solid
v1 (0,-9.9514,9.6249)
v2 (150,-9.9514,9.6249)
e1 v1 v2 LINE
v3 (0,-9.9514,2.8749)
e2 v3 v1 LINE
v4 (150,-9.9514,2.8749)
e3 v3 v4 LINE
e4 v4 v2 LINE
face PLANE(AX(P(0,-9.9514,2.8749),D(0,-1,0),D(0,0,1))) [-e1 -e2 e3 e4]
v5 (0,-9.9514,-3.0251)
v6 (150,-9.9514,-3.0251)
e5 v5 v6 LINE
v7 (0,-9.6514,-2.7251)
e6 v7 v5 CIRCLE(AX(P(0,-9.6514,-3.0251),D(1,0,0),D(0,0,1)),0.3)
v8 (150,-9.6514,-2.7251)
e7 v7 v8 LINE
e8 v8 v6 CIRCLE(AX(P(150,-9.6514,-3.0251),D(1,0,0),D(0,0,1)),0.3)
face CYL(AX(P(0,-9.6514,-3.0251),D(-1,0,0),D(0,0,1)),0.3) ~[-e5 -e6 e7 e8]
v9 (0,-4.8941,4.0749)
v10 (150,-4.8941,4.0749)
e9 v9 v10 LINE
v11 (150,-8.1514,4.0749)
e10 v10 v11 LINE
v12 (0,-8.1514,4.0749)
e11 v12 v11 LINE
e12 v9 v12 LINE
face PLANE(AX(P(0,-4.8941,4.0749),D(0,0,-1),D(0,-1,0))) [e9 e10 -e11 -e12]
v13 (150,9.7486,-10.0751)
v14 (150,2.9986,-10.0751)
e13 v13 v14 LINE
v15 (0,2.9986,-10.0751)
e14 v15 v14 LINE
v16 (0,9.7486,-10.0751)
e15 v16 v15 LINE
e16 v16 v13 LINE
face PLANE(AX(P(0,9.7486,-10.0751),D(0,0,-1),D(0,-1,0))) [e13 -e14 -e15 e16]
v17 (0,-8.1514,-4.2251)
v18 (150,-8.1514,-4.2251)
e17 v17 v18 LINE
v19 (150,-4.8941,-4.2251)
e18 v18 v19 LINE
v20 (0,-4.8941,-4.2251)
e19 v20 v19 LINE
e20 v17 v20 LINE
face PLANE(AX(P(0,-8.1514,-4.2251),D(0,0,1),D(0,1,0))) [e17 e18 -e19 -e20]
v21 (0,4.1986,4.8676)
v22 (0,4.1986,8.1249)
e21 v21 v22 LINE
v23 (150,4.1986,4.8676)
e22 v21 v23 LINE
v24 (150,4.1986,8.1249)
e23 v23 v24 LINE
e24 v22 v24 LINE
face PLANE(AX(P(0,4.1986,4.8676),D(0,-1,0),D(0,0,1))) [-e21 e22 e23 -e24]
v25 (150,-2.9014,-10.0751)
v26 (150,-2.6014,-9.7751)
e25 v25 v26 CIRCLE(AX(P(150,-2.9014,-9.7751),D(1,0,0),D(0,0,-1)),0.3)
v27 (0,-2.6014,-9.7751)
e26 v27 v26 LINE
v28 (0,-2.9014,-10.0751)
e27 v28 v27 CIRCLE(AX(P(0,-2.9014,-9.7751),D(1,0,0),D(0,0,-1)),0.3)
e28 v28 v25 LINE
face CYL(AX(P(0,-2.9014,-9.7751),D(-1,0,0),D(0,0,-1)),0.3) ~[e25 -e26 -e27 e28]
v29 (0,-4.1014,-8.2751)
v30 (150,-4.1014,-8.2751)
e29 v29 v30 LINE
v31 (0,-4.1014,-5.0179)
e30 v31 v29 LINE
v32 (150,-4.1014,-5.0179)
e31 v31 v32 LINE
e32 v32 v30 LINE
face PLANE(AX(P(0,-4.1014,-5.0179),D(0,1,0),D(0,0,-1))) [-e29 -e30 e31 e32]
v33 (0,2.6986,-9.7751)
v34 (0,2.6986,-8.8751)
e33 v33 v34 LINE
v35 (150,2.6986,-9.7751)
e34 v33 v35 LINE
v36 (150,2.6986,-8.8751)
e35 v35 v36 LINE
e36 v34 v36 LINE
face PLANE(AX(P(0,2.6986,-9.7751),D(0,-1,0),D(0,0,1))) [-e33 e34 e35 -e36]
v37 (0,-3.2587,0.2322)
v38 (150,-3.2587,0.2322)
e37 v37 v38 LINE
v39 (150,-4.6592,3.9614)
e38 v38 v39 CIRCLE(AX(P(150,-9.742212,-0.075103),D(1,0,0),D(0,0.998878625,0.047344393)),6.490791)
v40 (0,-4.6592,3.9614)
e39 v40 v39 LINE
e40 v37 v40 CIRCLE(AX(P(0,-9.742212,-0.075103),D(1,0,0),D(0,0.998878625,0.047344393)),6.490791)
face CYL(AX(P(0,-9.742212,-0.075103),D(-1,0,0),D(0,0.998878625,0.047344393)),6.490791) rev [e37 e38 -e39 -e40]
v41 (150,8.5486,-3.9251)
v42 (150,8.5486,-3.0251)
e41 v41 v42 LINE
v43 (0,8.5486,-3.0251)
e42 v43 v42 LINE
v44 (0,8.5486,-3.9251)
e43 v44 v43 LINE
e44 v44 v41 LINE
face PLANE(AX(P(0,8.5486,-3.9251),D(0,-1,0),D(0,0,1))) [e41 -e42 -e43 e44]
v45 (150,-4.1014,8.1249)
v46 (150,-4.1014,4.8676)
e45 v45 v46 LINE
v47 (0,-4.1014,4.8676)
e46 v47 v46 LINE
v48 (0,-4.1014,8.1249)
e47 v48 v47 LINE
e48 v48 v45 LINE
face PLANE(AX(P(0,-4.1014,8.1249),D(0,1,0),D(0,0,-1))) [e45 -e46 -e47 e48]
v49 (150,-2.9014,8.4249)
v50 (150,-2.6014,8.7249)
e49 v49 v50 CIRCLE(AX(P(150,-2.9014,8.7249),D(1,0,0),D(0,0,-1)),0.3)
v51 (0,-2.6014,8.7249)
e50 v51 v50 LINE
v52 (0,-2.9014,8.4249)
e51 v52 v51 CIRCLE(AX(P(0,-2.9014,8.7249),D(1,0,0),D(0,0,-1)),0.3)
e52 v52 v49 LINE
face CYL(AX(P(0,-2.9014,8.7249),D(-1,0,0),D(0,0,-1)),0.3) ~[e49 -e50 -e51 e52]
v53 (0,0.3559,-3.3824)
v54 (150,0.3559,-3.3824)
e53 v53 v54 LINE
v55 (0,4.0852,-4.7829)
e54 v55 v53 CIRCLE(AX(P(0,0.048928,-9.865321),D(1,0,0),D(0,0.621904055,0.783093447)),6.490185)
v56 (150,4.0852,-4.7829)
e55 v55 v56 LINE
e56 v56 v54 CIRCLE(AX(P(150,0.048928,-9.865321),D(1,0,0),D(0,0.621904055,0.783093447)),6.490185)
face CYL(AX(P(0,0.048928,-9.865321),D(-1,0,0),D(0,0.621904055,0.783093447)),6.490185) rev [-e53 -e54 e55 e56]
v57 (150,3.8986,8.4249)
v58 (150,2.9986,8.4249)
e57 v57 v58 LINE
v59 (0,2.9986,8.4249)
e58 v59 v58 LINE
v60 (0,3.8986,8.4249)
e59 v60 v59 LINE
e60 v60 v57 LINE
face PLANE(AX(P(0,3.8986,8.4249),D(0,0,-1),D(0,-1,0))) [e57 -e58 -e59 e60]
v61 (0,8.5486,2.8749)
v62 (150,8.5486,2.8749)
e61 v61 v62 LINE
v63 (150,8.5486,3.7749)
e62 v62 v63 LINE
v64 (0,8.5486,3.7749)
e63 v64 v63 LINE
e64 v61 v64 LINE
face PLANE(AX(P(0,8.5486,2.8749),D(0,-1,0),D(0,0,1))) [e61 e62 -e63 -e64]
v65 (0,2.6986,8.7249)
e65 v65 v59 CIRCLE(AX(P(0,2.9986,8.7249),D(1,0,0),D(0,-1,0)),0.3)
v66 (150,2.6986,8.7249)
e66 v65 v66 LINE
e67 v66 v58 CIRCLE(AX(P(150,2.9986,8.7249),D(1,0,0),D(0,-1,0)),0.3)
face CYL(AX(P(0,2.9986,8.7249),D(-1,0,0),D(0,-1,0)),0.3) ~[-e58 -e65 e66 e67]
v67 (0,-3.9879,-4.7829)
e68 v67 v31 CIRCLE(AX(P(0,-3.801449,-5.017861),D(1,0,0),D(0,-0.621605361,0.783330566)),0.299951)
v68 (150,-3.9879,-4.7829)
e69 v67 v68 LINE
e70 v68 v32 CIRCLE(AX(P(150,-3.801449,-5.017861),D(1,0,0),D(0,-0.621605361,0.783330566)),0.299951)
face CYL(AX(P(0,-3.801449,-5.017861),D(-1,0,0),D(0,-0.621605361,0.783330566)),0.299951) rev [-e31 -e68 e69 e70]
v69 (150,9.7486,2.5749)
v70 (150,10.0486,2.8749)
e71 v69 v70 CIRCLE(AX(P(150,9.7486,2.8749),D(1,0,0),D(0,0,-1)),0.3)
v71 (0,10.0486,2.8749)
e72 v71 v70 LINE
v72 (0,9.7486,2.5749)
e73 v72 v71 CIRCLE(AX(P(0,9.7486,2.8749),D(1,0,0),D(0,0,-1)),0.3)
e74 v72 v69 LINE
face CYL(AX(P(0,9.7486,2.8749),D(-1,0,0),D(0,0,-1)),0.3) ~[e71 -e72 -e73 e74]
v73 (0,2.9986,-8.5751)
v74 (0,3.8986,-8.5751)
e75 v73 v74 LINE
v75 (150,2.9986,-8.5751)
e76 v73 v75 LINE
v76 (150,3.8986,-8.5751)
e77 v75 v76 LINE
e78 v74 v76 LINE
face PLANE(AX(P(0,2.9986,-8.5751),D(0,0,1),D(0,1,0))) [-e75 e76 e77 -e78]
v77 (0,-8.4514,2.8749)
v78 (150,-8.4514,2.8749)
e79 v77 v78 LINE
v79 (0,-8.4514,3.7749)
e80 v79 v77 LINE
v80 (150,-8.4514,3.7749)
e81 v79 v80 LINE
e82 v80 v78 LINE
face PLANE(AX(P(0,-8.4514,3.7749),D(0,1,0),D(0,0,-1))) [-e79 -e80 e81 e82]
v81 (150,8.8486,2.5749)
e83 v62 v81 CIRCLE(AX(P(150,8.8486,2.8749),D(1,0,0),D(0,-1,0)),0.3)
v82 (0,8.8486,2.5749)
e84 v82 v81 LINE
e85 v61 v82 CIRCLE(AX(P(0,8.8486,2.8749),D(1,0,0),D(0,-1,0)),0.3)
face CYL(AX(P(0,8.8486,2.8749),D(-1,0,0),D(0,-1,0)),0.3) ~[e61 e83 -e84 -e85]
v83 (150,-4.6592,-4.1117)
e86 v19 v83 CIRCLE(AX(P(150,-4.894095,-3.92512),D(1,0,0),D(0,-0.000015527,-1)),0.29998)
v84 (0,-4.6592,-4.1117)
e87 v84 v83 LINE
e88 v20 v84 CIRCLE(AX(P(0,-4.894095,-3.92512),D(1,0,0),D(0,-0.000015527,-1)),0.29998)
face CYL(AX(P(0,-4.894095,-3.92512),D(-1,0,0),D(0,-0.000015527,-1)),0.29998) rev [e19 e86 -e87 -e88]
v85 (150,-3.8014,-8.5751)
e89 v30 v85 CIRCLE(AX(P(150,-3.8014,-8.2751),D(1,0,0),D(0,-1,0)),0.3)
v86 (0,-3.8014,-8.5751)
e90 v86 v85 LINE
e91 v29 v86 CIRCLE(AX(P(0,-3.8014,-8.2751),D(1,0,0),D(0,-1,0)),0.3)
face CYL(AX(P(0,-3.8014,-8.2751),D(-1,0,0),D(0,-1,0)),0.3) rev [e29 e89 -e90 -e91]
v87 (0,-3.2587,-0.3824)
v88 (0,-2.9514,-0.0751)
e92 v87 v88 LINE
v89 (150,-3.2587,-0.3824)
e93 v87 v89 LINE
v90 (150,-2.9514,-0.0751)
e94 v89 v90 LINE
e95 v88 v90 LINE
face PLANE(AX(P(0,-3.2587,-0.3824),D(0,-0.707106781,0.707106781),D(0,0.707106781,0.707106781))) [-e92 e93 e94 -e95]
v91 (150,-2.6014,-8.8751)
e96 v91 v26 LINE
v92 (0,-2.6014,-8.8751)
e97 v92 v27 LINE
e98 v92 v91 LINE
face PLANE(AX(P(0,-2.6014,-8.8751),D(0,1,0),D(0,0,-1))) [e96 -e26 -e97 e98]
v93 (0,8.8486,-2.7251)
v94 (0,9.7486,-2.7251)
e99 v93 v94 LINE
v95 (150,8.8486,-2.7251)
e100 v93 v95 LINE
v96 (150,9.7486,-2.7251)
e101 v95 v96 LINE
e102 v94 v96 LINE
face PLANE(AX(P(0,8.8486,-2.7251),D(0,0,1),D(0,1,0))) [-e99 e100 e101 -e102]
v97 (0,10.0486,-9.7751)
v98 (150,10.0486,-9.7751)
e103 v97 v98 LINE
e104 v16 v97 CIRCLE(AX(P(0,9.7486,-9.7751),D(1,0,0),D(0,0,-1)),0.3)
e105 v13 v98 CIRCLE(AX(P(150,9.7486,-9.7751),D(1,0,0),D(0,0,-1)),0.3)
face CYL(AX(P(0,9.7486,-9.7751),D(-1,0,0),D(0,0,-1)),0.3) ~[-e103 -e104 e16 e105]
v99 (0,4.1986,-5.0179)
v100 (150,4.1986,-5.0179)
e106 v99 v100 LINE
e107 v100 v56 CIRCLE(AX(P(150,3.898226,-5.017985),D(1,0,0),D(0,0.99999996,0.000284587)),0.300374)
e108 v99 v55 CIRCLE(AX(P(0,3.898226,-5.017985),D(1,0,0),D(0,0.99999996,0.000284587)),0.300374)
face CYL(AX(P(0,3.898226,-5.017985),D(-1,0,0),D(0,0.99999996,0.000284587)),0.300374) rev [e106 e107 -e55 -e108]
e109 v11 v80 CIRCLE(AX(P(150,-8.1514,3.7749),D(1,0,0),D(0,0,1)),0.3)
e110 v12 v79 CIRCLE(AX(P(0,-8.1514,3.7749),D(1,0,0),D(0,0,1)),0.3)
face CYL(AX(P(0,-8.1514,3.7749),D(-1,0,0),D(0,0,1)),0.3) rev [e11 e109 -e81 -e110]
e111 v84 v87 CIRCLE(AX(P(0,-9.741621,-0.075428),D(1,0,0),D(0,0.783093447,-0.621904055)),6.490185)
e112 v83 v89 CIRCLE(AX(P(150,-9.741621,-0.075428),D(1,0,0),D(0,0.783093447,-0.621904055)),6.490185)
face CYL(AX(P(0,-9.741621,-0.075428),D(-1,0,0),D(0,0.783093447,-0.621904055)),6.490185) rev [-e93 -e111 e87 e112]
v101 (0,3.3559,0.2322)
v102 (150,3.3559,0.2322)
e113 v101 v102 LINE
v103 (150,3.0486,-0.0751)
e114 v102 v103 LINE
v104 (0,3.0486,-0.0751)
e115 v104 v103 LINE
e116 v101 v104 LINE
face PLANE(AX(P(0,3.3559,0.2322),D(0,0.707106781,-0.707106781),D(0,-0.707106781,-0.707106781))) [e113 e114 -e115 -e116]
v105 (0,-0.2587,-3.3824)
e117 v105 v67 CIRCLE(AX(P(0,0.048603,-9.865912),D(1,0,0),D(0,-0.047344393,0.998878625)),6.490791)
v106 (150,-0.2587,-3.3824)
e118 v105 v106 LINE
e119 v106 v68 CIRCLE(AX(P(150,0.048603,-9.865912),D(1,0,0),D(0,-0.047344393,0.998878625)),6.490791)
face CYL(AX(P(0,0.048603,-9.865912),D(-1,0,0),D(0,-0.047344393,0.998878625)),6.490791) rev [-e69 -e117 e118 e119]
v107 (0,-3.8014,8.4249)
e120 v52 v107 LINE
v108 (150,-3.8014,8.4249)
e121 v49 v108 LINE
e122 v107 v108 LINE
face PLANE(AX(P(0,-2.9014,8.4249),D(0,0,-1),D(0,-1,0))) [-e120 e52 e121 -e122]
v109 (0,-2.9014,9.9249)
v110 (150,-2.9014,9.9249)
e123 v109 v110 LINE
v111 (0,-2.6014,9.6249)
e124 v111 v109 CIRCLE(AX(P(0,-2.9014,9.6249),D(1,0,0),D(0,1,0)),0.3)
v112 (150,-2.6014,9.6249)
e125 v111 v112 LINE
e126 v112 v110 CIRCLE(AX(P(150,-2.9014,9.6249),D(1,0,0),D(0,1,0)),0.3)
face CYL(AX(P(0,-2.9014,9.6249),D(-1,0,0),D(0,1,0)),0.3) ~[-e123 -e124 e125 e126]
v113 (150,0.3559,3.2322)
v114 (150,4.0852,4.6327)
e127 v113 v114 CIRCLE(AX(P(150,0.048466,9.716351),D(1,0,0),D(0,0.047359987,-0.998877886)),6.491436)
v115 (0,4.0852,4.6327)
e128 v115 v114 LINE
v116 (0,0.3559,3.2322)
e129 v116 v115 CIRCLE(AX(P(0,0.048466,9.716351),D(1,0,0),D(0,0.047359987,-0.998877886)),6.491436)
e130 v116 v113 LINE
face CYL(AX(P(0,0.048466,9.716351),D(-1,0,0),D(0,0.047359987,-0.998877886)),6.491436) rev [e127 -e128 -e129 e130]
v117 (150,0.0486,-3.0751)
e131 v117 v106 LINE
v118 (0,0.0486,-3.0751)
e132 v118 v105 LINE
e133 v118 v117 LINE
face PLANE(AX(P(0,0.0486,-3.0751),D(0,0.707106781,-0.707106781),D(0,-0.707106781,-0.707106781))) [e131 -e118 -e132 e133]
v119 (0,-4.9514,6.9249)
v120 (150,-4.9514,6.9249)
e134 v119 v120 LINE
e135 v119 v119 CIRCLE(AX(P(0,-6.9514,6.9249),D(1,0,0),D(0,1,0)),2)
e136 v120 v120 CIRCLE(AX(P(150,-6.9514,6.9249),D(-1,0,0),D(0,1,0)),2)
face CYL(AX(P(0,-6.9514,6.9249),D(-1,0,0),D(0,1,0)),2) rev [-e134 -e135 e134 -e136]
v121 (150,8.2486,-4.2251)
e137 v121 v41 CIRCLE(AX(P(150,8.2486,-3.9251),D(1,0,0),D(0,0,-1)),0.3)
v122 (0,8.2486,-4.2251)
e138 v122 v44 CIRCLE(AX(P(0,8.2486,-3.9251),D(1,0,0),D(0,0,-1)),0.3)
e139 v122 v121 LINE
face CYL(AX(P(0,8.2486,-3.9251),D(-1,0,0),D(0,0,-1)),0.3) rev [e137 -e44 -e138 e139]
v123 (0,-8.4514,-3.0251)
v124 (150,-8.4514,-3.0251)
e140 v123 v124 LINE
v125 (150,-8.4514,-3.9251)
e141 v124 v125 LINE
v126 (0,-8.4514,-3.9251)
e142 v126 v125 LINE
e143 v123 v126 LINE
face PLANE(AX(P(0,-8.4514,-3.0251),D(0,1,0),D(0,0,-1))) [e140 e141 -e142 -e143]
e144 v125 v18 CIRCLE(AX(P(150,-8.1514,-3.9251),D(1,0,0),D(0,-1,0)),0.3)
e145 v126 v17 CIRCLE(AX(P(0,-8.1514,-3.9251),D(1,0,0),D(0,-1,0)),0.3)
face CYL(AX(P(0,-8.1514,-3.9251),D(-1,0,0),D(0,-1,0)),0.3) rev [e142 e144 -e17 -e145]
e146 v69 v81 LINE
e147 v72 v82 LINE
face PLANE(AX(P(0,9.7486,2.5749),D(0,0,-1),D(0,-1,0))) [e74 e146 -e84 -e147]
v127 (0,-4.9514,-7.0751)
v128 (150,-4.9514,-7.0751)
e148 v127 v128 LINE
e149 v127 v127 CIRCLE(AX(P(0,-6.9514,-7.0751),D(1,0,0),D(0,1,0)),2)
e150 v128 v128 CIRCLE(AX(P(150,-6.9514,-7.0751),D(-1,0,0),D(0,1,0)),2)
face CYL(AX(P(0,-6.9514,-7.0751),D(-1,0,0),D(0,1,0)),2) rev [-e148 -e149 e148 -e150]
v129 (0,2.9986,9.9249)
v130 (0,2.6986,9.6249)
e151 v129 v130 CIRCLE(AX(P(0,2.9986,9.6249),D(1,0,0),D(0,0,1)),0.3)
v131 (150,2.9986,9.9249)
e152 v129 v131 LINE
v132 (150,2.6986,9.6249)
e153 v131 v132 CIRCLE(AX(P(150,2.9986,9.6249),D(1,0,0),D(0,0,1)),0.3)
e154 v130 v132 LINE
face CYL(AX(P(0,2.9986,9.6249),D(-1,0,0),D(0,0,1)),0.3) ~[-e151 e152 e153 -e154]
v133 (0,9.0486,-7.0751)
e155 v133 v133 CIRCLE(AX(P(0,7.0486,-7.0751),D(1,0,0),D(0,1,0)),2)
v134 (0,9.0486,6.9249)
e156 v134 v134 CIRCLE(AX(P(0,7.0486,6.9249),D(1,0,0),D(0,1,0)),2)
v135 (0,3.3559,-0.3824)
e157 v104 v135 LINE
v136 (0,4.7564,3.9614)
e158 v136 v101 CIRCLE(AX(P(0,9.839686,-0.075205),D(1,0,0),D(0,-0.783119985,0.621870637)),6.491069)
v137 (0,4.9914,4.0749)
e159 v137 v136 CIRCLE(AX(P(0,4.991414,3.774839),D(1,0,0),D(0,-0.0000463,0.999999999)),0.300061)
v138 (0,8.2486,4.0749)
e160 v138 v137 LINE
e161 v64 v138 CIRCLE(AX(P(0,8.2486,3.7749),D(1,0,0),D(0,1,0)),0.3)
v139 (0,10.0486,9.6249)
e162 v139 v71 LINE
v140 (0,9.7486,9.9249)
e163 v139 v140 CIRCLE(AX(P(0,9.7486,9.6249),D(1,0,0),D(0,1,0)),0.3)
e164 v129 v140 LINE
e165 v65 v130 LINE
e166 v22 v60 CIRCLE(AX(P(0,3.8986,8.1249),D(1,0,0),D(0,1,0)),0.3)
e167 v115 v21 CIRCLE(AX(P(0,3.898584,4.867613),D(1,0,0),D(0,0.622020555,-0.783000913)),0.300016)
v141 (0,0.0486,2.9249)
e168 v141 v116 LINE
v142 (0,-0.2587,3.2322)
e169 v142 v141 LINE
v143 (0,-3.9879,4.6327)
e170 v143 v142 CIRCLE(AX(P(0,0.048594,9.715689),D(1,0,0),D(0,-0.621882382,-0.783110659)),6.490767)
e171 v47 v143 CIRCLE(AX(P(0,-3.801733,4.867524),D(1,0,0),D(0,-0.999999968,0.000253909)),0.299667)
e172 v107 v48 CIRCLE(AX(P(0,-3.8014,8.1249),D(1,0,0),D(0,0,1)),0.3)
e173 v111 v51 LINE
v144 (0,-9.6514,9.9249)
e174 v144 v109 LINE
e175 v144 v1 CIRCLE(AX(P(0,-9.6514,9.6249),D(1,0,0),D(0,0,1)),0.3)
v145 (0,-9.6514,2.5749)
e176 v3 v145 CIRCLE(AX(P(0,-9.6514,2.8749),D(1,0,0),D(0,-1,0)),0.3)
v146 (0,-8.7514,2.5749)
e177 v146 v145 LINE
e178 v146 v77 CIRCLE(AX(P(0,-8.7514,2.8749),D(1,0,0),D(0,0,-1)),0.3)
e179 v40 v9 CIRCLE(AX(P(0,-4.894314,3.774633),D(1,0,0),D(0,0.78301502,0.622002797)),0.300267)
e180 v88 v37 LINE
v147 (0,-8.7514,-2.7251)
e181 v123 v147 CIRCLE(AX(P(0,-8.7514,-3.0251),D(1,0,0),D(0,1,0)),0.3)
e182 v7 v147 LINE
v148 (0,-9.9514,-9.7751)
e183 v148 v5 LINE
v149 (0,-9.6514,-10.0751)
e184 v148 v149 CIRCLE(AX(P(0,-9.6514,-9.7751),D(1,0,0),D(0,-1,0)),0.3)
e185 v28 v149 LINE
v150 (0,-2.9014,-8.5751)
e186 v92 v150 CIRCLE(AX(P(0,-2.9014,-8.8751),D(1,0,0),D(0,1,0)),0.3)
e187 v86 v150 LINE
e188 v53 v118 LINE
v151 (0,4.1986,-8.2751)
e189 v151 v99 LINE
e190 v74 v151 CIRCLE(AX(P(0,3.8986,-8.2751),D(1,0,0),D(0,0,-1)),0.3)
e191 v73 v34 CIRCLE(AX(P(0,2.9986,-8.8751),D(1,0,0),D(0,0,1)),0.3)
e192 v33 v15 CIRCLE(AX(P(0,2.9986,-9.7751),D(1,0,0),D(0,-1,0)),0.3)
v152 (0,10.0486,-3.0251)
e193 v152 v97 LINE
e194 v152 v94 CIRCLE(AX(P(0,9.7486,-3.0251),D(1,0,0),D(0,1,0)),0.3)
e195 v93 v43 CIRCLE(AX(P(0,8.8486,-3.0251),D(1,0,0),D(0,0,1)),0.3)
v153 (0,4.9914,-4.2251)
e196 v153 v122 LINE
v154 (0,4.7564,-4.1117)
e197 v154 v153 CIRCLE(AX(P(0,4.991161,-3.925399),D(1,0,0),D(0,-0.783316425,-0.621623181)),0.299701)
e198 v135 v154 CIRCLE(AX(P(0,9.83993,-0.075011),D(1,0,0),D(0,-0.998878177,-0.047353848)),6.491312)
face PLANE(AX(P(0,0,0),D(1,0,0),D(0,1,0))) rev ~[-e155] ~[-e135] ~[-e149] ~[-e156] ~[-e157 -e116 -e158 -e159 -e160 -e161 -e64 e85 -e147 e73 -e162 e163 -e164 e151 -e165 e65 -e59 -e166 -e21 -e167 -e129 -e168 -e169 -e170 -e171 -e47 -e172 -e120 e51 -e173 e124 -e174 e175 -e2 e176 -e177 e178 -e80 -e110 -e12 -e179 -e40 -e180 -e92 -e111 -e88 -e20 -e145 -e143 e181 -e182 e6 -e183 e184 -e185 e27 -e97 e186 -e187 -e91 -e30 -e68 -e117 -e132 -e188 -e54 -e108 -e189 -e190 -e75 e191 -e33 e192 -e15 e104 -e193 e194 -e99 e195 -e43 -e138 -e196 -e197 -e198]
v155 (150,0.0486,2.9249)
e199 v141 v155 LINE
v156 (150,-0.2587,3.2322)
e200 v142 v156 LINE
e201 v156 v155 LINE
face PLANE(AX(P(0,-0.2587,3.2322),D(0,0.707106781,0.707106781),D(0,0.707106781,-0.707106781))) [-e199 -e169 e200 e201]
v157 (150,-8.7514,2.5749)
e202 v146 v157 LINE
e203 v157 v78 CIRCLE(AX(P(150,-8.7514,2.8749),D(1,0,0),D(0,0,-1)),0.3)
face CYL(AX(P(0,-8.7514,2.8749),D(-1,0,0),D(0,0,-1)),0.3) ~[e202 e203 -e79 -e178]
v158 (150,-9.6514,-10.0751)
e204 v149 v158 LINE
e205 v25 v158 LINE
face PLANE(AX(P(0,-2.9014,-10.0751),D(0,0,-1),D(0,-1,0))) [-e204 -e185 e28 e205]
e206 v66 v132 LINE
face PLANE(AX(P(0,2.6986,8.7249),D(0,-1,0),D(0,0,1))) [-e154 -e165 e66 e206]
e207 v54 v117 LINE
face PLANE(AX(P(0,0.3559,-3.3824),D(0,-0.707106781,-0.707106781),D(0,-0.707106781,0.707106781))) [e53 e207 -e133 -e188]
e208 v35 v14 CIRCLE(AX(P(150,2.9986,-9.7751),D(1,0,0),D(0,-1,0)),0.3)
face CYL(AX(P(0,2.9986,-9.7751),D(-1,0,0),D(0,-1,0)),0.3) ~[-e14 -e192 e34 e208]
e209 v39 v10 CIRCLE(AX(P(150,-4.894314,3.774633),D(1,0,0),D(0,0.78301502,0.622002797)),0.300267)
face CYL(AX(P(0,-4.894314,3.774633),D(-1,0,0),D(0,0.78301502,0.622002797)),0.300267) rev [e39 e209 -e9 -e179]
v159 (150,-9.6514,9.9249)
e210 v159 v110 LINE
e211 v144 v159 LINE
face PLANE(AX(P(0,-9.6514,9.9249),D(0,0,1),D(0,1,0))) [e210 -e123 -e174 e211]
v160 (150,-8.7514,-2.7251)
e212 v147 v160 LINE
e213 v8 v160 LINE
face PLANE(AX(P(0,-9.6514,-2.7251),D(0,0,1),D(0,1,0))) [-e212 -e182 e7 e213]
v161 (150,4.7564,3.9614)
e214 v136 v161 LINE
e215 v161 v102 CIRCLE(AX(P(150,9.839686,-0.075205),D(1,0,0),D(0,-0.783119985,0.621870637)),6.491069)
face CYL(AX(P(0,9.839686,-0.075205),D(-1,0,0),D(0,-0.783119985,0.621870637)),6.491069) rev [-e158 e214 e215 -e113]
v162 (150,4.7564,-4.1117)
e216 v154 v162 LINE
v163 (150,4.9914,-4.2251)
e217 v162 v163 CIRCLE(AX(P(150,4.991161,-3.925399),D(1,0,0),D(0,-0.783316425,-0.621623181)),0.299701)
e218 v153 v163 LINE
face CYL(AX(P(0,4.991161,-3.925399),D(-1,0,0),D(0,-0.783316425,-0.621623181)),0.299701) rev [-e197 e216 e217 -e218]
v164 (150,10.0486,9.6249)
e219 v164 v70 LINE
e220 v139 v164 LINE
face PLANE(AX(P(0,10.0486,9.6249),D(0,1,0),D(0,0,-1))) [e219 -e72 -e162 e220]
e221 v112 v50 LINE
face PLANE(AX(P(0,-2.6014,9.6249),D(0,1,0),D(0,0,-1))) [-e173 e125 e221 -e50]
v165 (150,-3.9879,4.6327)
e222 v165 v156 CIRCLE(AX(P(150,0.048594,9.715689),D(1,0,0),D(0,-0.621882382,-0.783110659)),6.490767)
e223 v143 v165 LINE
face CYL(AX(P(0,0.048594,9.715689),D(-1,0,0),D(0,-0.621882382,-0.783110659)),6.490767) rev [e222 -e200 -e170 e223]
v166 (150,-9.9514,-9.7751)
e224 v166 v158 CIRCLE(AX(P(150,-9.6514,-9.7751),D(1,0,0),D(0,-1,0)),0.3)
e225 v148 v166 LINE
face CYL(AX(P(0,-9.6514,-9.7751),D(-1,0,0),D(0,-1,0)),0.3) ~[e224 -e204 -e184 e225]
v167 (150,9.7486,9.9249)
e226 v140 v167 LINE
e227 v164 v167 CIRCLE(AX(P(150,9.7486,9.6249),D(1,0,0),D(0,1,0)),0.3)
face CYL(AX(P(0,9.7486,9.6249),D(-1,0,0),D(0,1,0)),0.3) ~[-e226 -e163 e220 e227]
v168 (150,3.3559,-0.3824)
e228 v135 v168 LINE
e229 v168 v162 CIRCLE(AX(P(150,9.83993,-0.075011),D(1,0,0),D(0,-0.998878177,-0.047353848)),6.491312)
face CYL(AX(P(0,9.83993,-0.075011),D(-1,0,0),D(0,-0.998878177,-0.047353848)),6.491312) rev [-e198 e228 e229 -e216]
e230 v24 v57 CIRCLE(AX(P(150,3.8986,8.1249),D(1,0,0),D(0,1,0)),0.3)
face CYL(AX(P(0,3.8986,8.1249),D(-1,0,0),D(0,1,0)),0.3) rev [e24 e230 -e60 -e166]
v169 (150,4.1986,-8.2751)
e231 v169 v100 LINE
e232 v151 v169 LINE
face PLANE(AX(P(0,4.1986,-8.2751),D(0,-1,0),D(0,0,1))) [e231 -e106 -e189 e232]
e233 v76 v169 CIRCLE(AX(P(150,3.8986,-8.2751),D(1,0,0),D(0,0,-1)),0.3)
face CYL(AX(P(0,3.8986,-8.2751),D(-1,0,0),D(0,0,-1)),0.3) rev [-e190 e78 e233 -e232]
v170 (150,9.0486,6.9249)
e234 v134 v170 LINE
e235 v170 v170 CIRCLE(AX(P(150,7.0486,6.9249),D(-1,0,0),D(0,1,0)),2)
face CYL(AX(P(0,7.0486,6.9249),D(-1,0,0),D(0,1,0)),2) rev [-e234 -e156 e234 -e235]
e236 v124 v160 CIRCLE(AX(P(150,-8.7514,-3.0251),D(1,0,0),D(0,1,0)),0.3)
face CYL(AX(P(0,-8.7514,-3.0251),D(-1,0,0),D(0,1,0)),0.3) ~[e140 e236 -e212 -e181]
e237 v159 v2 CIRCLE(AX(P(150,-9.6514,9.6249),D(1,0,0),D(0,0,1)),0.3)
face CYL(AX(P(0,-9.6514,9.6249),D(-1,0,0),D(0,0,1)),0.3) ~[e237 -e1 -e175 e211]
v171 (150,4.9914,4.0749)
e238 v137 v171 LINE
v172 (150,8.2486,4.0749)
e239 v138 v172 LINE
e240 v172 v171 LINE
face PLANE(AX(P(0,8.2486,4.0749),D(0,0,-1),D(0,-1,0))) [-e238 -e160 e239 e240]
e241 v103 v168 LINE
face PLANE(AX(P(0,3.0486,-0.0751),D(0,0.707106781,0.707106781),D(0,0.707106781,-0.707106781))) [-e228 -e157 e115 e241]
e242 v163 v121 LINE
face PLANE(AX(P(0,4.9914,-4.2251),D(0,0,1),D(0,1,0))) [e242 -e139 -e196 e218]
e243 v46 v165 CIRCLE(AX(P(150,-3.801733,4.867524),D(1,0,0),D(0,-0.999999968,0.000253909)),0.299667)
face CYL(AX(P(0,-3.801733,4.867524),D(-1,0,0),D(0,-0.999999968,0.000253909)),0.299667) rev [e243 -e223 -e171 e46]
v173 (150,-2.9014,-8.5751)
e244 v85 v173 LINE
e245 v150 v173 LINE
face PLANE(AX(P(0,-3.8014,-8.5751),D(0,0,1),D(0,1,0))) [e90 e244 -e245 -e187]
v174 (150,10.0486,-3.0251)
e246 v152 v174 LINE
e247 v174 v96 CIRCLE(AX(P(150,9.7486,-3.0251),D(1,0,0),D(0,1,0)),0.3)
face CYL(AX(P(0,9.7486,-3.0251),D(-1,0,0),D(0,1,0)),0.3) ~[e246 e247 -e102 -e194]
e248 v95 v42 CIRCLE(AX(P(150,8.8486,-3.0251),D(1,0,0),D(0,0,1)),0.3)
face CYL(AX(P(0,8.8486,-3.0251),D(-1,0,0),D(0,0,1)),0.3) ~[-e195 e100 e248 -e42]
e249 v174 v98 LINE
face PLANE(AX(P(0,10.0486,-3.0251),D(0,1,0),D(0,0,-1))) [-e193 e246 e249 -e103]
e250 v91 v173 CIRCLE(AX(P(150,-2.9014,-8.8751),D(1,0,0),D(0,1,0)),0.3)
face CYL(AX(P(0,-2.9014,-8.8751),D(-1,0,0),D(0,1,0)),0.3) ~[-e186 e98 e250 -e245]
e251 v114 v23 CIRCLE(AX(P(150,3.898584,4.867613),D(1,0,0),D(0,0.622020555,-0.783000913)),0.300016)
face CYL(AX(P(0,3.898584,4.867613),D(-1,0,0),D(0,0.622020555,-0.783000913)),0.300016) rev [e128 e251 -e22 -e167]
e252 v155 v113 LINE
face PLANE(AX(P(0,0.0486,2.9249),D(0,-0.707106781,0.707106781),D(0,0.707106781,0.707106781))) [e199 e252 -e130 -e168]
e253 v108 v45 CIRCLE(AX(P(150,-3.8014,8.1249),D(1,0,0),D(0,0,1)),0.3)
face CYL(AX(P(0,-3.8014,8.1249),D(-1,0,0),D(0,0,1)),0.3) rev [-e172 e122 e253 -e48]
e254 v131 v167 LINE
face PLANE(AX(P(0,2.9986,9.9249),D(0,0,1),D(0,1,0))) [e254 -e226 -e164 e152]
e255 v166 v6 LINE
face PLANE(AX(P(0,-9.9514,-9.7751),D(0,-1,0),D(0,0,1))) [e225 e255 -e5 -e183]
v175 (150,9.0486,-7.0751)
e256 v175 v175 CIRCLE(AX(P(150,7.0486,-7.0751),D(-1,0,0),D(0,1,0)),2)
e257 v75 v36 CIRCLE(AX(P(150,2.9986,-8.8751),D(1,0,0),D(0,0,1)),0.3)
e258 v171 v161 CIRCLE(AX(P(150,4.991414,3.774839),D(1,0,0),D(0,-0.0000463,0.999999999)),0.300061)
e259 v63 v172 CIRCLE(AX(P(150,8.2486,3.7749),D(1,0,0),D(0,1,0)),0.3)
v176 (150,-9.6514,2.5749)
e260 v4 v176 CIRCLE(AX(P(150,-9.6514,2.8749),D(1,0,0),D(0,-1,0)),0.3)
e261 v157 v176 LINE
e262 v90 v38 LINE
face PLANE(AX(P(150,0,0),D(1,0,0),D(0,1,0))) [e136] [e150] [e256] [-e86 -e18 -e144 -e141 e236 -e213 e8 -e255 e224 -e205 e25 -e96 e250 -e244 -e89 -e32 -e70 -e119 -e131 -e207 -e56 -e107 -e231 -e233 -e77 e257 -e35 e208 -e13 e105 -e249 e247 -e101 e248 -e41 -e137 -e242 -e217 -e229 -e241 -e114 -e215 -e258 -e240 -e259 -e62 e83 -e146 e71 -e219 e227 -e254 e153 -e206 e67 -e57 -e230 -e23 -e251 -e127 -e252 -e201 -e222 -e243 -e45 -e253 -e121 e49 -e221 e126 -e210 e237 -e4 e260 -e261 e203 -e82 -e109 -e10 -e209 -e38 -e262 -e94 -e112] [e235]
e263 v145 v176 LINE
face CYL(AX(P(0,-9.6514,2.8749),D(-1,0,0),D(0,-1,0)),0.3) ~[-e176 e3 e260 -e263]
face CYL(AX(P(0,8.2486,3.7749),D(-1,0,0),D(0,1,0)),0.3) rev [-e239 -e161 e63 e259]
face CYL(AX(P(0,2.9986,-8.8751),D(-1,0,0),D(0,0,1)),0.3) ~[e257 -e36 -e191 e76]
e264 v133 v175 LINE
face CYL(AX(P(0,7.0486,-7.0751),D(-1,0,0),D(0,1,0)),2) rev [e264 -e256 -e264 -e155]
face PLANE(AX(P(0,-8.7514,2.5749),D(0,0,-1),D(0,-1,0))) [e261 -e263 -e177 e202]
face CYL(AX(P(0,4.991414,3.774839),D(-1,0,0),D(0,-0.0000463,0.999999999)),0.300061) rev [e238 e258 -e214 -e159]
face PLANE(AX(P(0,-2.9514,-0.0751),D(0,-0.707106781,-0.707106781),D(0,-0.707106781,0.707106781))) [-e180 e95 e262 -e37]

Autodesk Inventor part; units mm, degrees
ref_plane "YZ Plane" through (0, 0, 0) normal (1, 0, 0) x (0, 1, 0)
ref_plane "XZ Plane" through (0, 0, 0) normal (0, 1, 0) x (-1, 0, 0)
ref_plane "XY Plane" through (0, 0, 0) normal (0, 0, 1) x (1, 0, 0)
sketch "Sketch1" plane through (0, 0, 0) normal (1, 0, 0) x (0, 1, 0)
  line L0 (9.5486, -7.0751) -> (4.5486, -7.0751)
  line L1 (7.0486, -9.5751) -> (7.0486, -4.5751)
  circle A0 centre (7.0486, -7.0751) radius 2
  circle A1 centre (7.0486, 6.9249) radius 2
  line L2 (7.0486, 9.4249) -> (7.0486, 4.4249)
  line L3 (9.5486, 6.9249) -> (4.5486, 6.9249)
  line L4 (4.1986, 4.8676) -> (4.1986, 8.1249)
  arc A2 (4.1986, 8.1249) -> (3.8986, 8.4249) centre (3.8986, 8.1249) ccw
  line L5 (3.8986, 8.4249) -> (2.9986, 8.4249)
  arc A3 (2.6986, 8.7249) -> (2.9986, 8.4249) centre (2.9986, 8.7249) ccw
  line L6 (2.6986, 8.7249) -> (2.6986, 9.6249)
  arc A4 (2.9986, 9.9249) -> (2.6986, 9.6249) centre (2.9986, 9.6249) ccw
  line L7 (2.9986, 9.9249) -> (9.7486, 9.9249)
  arc A5 (10.0486, 9.6249) -> (9.7486, 9.9249) centre (9.7486, 9.6249) ccw
  line L8 (10.0486, 9.6249) -> (10.0486, 2.8749)
  arc A6 (9.7486, 2.5749) -> (10.0486, 2.8749) centre (9.7486, 2.8749) ccw
  line L9 (9.7486, 2.5749) -> (8.8486, 2.5749)
  arc A7 (8.5486, 2.8749) -> (8.8486, 2.5749) centre (8.8486, 2.8749) ccw
  line L10 (8.5486, 2.8749) -> (8.5486, 3.7749)
  arc A8 (8.5486, 3.7749) -> (8.2486, 4.0749) centre (8.2486, 3.7749) ccw
  line L11 (8.2486, 4.0749) -> (4.9914, 4.0749)
  arc A9 (4.9914, 4.0749) -> (4.7564, 3.9614) centre (4.9914, 3.7749) ccw
  arc A10 (4.7564, 3.9614) -> (3.3559, 0.2322) centre (9.8395, -0.0751) ccw
  line L12 (3.3559, 0.2322) -> (3.0486, -0.0751)
  line L13 (3.0486, -0.0751) -> (3.3559, -0.3824)
  arc A11 (3.3559, -0.3824) -> (4.7564, -4.1117) centre (9.8395, -0.0751) ccw
  arc A12 (4.7564, -4.1117) -> (4.9914, -4.2251) centre (4.9914, -3.9251) ccw
  line L14 (4.9914, -4.2251) -> (8.2486, -4.2251)
  arc A13 (8.2486, -4.2251) -> (8.5486, -3.9251) centre (8.2486, -3.9251) ccw
  line L15 (8.5486, -3.9251) -> (8.5486, -3.0251)
  arc A14 (8.8486, -2.7251) -> (8.5486, -3.0251) centre (8.8486, -3.0251) ccw
  line L16 (8.8486, -2.7251) -> (9.7486, -2.7251)
  arc A15 (10.0486, -3.0251) -> (9.7486, -2.7251) centre (9.7486, -3.0251) ccw
  line L17 (10.0486, -3.0251) -> (10.0486, -9.7751)
  arc A16 (9.7486, -10.0751) -> (10.0486, -9.7751) centre (9.7486, -9.7751) ccw
  line L18 (9.7486, -10.0751) -> (2.9986, -10.0751)
  arc A17 (2.6986, -9.7751) -> (2.9986, -10.0751) centre (2.9986, -9.7751) ccw
  line L19 (2.6986, -9.7751) -> (2.6986, -8.8751)
  arc A18 (2.9986, -8.5751) -> (2.6986, -8.8751) centre (2.9986, -8.8751) ccw
  line L20 (2.9986, -8.5751) -> (3.8986, -8.5751)
  arc A19 (3.8986, -8.5751) -> (4.1986, -8.2751) centre (3.8986, -8.2751) ccw
  line L21 (4.1986, -8.2751) -> (4.1986, -5.0179)
  arc A20 (4.1986, -5.0179) -> (4.0852, -4.7829) centre (3.8986, -5.0179) ccw
  arc A21 (4.0852, -4.7829) -> (0.3559, -3.3824) centre (0.0486, -9.8659) ccw
  line L22 (0.3559, -3.3824) -> (0.0486, -3.0751)
  line L23 (0.0486, -3.0751) -> (-0.2587, -3.3824)
  arc A22 (-0.2587, -3.3824) -> (-3.9879, -4.7829) centre (0.0486, -9.8659) ccw
  arc A23 (-3.9879, -4.7829) -> (-4.1014, -5.0179) centre (-3.8014, -5.0179) ccw
  line L24 (-4.1014, -5.0179) -> (-4.1014, -8.2751)
  arc A24 (-4.1014, -8.2751) -> (-3.8014, -8.5751) centre (-3.8014, -8.2751) ccw
  line L25 (-3.8014, -8.5751) -> (-2.9014, -8.5751)
  arc A25 (-2.6014, -8.8751) -> (-2.9014, -8.5751) centre (-2.9014, -8.8751) ccw
  line L26 (-2.6014, -8.8751) -> (-2.6014, -9.7751)
  arc A26 (-2.9014, -10.0751) -> (-2.6014, -9.7751) centre (-2.9014, -9.7751) ccw
  line L27 (-2.9014, -10.0751) -> (-9.6514, -10.0751)
  arc A27 (-9.9514, -9.7751) -> (-9.6514, -10.0751) centre (-9.6514, -9.7751) ccw
  line L28 (-9.9514, -9.7751) -> (-9.9514, -3.0251)
  arc A28 (-9.6514, -2.7251) -> (-9.9514, -3.0251) centre (-9.6514, -3.0251) ccw
  line L29 (-9.6514, -2.7251) -> (-8.7514, -2.7251)
  arc A29 (-8.4514, -3.0251) -> (-8.7514, -2.7251) centre (-8.7514, -3.0251) ccw
  line L30 (-8.4514, -3.0251) -> (-8.4514, -3.9251)
  arc A30 (-8.4514, -3.9251) -> (-8.1514, -4.2251) centre (-8.1514, -3.9251) ccw
  line L31 (-8.1514, -4.2251) -> (-4.8941, -4.2251)
  arc A31 (-4.8941, -4.2251) -> (-4.6592, -4.1117) centre (-4.8941, -3.9251) ccw
  arc A32 (-4.6592, -4.1117) -> (-3.2587, -0.3824) centre (-9.7422, -0.0751) ccw
  line L32 (-3.2587, -0.3824) -> (-2.9514, -0.0751)
  line L33 (-2.9514, -0.0751) -> (-3.2587, 0.2322)
  arc A33 (-3.2587, 0.2322) -> (-4.6592, 3.9614) centre (-9.7422, -0.0751) ccw
  arc A34 (-4.6592, 3.9614) -> (-4.8941, 4.0749) centre (-4.8941, 3.7749) ccw
  line L34 (-4.8941, 4.0749) -> (-8.1514, 4.0749)
  arc A35 (-8.1514, 4.0749) -> (-8.4514, 3.7749) centre (-8.1514, 3.7749) ccw
  line L35 (-8.4514, 3.7749) -> (-8.4514, 2.8749)
  arc A36 (-8.7514, 2.5749) -> (-8.4514, 2.8749) centre (-8.7514, 2.8749) ccw
  line L36 (-8.7514, 2.5749) -> (-9.6514, 2.5749)
  arc A37 (-9.9514, 2.8749) -> (-9.6514, 2.5749) centre (-9.6514, 2.8749) ccw
  line L37 (-9.9514, 2.8749) -> (-9.9514, 9.6249)
  arc A38 (-9.6514, 9.9249) -> (-9.9514, 9.6249) centre (-9.6514, 9.6249) ccw
  line L38 (-9.6514, 9.9249) -> (-2.9014, 9.9249)
  arc A39 (-2.6014, 9.6249) -> (-2.9014, 9.9249) centre (-2.9014, 9.6249) ccw
  line L39 (-2.6014, 9.6249) -> (-2.6014, 8.7249)
  arc A40 (-2.9014, 8.4249) -> (-2.6014, 8.7249) centre (-2.9014, 8.7249) ccw
  line L40 (-2.9014, 8.4249) -> (-3.8014, 8.4249)
  arc A41 (-3.8014, 8.4249) -> (-4.1014, 8.1249) centre (-3.8014, 8.1249) ccw
  line L41 (-4.1014, 8.1249) -> (-4.1014, 4.8676)
  arc A42 (-4.1014, 4.8676) -> (-3.9879, 4.6327) centre (-3.8014, 4.8676) ccw
  arc A43 (-3.9879, 4.6327) -> (-0.2587, 3.2322) centre (0.0486, 9.7157) ccw
  line L42 (-0.2587, 3.2322) -> (0.0486, 2.9249)
  line L43 (0.0486, 2.9249) -> (0.3559, 3.2322)
  arc A44 (0.3559, 3.2322) -> (4.0852, 4.6327) centre (0.0486, 9.7157) ccw
  arc A45 (4.0852, 4.6327) -> (4.1986, 4.8676) centre (3.8986, 4.8676) ccw
  line L44 (-11.1503, -0.0751) -> (11.2475, -0.0751)
  circle A46 centre (0.0486, -0.0751) radius 2.15
  circle A47 centre (-6.9514, -7.0751) radius 2
  line L45 (-6.9514, -9.5751) -> (-6.9514, -4.5751)
  line L46 (-9.4514, -7.0751) -> (-4.4514, -7.0751)
  circle A48 centre (-6.9514, 6.9249) radius 2
  line L47 (-6.9514, 9.4249) -> (-6.9514, 4.4249)
  line L48 (-9.4514, 6.9249) -> (-4.4514, 6.9249)
extrude "Extrusion1" add sketch "Sketch1" along normal blind 150
equation "\"BendRadius\" = Thickness"
equation "\"BendReliefWidth\" = Thickness"
equation "\"BendReliefDepth\" = 0.5 * Thickness"
equation "\"CornerReliefSize\" = 4 * Thickness"
equation "\"MinimumRemnant\" = 2 * Thickness"
equation "\"TransitionRadius\" = BendRadius"
equation "\"JacobiRadiusSize\" = BendRadius"
equation "\"GapSize\" = Thickness"
equation "\"Thickness\" = 3.048"
properties part number "150mm 2020"
